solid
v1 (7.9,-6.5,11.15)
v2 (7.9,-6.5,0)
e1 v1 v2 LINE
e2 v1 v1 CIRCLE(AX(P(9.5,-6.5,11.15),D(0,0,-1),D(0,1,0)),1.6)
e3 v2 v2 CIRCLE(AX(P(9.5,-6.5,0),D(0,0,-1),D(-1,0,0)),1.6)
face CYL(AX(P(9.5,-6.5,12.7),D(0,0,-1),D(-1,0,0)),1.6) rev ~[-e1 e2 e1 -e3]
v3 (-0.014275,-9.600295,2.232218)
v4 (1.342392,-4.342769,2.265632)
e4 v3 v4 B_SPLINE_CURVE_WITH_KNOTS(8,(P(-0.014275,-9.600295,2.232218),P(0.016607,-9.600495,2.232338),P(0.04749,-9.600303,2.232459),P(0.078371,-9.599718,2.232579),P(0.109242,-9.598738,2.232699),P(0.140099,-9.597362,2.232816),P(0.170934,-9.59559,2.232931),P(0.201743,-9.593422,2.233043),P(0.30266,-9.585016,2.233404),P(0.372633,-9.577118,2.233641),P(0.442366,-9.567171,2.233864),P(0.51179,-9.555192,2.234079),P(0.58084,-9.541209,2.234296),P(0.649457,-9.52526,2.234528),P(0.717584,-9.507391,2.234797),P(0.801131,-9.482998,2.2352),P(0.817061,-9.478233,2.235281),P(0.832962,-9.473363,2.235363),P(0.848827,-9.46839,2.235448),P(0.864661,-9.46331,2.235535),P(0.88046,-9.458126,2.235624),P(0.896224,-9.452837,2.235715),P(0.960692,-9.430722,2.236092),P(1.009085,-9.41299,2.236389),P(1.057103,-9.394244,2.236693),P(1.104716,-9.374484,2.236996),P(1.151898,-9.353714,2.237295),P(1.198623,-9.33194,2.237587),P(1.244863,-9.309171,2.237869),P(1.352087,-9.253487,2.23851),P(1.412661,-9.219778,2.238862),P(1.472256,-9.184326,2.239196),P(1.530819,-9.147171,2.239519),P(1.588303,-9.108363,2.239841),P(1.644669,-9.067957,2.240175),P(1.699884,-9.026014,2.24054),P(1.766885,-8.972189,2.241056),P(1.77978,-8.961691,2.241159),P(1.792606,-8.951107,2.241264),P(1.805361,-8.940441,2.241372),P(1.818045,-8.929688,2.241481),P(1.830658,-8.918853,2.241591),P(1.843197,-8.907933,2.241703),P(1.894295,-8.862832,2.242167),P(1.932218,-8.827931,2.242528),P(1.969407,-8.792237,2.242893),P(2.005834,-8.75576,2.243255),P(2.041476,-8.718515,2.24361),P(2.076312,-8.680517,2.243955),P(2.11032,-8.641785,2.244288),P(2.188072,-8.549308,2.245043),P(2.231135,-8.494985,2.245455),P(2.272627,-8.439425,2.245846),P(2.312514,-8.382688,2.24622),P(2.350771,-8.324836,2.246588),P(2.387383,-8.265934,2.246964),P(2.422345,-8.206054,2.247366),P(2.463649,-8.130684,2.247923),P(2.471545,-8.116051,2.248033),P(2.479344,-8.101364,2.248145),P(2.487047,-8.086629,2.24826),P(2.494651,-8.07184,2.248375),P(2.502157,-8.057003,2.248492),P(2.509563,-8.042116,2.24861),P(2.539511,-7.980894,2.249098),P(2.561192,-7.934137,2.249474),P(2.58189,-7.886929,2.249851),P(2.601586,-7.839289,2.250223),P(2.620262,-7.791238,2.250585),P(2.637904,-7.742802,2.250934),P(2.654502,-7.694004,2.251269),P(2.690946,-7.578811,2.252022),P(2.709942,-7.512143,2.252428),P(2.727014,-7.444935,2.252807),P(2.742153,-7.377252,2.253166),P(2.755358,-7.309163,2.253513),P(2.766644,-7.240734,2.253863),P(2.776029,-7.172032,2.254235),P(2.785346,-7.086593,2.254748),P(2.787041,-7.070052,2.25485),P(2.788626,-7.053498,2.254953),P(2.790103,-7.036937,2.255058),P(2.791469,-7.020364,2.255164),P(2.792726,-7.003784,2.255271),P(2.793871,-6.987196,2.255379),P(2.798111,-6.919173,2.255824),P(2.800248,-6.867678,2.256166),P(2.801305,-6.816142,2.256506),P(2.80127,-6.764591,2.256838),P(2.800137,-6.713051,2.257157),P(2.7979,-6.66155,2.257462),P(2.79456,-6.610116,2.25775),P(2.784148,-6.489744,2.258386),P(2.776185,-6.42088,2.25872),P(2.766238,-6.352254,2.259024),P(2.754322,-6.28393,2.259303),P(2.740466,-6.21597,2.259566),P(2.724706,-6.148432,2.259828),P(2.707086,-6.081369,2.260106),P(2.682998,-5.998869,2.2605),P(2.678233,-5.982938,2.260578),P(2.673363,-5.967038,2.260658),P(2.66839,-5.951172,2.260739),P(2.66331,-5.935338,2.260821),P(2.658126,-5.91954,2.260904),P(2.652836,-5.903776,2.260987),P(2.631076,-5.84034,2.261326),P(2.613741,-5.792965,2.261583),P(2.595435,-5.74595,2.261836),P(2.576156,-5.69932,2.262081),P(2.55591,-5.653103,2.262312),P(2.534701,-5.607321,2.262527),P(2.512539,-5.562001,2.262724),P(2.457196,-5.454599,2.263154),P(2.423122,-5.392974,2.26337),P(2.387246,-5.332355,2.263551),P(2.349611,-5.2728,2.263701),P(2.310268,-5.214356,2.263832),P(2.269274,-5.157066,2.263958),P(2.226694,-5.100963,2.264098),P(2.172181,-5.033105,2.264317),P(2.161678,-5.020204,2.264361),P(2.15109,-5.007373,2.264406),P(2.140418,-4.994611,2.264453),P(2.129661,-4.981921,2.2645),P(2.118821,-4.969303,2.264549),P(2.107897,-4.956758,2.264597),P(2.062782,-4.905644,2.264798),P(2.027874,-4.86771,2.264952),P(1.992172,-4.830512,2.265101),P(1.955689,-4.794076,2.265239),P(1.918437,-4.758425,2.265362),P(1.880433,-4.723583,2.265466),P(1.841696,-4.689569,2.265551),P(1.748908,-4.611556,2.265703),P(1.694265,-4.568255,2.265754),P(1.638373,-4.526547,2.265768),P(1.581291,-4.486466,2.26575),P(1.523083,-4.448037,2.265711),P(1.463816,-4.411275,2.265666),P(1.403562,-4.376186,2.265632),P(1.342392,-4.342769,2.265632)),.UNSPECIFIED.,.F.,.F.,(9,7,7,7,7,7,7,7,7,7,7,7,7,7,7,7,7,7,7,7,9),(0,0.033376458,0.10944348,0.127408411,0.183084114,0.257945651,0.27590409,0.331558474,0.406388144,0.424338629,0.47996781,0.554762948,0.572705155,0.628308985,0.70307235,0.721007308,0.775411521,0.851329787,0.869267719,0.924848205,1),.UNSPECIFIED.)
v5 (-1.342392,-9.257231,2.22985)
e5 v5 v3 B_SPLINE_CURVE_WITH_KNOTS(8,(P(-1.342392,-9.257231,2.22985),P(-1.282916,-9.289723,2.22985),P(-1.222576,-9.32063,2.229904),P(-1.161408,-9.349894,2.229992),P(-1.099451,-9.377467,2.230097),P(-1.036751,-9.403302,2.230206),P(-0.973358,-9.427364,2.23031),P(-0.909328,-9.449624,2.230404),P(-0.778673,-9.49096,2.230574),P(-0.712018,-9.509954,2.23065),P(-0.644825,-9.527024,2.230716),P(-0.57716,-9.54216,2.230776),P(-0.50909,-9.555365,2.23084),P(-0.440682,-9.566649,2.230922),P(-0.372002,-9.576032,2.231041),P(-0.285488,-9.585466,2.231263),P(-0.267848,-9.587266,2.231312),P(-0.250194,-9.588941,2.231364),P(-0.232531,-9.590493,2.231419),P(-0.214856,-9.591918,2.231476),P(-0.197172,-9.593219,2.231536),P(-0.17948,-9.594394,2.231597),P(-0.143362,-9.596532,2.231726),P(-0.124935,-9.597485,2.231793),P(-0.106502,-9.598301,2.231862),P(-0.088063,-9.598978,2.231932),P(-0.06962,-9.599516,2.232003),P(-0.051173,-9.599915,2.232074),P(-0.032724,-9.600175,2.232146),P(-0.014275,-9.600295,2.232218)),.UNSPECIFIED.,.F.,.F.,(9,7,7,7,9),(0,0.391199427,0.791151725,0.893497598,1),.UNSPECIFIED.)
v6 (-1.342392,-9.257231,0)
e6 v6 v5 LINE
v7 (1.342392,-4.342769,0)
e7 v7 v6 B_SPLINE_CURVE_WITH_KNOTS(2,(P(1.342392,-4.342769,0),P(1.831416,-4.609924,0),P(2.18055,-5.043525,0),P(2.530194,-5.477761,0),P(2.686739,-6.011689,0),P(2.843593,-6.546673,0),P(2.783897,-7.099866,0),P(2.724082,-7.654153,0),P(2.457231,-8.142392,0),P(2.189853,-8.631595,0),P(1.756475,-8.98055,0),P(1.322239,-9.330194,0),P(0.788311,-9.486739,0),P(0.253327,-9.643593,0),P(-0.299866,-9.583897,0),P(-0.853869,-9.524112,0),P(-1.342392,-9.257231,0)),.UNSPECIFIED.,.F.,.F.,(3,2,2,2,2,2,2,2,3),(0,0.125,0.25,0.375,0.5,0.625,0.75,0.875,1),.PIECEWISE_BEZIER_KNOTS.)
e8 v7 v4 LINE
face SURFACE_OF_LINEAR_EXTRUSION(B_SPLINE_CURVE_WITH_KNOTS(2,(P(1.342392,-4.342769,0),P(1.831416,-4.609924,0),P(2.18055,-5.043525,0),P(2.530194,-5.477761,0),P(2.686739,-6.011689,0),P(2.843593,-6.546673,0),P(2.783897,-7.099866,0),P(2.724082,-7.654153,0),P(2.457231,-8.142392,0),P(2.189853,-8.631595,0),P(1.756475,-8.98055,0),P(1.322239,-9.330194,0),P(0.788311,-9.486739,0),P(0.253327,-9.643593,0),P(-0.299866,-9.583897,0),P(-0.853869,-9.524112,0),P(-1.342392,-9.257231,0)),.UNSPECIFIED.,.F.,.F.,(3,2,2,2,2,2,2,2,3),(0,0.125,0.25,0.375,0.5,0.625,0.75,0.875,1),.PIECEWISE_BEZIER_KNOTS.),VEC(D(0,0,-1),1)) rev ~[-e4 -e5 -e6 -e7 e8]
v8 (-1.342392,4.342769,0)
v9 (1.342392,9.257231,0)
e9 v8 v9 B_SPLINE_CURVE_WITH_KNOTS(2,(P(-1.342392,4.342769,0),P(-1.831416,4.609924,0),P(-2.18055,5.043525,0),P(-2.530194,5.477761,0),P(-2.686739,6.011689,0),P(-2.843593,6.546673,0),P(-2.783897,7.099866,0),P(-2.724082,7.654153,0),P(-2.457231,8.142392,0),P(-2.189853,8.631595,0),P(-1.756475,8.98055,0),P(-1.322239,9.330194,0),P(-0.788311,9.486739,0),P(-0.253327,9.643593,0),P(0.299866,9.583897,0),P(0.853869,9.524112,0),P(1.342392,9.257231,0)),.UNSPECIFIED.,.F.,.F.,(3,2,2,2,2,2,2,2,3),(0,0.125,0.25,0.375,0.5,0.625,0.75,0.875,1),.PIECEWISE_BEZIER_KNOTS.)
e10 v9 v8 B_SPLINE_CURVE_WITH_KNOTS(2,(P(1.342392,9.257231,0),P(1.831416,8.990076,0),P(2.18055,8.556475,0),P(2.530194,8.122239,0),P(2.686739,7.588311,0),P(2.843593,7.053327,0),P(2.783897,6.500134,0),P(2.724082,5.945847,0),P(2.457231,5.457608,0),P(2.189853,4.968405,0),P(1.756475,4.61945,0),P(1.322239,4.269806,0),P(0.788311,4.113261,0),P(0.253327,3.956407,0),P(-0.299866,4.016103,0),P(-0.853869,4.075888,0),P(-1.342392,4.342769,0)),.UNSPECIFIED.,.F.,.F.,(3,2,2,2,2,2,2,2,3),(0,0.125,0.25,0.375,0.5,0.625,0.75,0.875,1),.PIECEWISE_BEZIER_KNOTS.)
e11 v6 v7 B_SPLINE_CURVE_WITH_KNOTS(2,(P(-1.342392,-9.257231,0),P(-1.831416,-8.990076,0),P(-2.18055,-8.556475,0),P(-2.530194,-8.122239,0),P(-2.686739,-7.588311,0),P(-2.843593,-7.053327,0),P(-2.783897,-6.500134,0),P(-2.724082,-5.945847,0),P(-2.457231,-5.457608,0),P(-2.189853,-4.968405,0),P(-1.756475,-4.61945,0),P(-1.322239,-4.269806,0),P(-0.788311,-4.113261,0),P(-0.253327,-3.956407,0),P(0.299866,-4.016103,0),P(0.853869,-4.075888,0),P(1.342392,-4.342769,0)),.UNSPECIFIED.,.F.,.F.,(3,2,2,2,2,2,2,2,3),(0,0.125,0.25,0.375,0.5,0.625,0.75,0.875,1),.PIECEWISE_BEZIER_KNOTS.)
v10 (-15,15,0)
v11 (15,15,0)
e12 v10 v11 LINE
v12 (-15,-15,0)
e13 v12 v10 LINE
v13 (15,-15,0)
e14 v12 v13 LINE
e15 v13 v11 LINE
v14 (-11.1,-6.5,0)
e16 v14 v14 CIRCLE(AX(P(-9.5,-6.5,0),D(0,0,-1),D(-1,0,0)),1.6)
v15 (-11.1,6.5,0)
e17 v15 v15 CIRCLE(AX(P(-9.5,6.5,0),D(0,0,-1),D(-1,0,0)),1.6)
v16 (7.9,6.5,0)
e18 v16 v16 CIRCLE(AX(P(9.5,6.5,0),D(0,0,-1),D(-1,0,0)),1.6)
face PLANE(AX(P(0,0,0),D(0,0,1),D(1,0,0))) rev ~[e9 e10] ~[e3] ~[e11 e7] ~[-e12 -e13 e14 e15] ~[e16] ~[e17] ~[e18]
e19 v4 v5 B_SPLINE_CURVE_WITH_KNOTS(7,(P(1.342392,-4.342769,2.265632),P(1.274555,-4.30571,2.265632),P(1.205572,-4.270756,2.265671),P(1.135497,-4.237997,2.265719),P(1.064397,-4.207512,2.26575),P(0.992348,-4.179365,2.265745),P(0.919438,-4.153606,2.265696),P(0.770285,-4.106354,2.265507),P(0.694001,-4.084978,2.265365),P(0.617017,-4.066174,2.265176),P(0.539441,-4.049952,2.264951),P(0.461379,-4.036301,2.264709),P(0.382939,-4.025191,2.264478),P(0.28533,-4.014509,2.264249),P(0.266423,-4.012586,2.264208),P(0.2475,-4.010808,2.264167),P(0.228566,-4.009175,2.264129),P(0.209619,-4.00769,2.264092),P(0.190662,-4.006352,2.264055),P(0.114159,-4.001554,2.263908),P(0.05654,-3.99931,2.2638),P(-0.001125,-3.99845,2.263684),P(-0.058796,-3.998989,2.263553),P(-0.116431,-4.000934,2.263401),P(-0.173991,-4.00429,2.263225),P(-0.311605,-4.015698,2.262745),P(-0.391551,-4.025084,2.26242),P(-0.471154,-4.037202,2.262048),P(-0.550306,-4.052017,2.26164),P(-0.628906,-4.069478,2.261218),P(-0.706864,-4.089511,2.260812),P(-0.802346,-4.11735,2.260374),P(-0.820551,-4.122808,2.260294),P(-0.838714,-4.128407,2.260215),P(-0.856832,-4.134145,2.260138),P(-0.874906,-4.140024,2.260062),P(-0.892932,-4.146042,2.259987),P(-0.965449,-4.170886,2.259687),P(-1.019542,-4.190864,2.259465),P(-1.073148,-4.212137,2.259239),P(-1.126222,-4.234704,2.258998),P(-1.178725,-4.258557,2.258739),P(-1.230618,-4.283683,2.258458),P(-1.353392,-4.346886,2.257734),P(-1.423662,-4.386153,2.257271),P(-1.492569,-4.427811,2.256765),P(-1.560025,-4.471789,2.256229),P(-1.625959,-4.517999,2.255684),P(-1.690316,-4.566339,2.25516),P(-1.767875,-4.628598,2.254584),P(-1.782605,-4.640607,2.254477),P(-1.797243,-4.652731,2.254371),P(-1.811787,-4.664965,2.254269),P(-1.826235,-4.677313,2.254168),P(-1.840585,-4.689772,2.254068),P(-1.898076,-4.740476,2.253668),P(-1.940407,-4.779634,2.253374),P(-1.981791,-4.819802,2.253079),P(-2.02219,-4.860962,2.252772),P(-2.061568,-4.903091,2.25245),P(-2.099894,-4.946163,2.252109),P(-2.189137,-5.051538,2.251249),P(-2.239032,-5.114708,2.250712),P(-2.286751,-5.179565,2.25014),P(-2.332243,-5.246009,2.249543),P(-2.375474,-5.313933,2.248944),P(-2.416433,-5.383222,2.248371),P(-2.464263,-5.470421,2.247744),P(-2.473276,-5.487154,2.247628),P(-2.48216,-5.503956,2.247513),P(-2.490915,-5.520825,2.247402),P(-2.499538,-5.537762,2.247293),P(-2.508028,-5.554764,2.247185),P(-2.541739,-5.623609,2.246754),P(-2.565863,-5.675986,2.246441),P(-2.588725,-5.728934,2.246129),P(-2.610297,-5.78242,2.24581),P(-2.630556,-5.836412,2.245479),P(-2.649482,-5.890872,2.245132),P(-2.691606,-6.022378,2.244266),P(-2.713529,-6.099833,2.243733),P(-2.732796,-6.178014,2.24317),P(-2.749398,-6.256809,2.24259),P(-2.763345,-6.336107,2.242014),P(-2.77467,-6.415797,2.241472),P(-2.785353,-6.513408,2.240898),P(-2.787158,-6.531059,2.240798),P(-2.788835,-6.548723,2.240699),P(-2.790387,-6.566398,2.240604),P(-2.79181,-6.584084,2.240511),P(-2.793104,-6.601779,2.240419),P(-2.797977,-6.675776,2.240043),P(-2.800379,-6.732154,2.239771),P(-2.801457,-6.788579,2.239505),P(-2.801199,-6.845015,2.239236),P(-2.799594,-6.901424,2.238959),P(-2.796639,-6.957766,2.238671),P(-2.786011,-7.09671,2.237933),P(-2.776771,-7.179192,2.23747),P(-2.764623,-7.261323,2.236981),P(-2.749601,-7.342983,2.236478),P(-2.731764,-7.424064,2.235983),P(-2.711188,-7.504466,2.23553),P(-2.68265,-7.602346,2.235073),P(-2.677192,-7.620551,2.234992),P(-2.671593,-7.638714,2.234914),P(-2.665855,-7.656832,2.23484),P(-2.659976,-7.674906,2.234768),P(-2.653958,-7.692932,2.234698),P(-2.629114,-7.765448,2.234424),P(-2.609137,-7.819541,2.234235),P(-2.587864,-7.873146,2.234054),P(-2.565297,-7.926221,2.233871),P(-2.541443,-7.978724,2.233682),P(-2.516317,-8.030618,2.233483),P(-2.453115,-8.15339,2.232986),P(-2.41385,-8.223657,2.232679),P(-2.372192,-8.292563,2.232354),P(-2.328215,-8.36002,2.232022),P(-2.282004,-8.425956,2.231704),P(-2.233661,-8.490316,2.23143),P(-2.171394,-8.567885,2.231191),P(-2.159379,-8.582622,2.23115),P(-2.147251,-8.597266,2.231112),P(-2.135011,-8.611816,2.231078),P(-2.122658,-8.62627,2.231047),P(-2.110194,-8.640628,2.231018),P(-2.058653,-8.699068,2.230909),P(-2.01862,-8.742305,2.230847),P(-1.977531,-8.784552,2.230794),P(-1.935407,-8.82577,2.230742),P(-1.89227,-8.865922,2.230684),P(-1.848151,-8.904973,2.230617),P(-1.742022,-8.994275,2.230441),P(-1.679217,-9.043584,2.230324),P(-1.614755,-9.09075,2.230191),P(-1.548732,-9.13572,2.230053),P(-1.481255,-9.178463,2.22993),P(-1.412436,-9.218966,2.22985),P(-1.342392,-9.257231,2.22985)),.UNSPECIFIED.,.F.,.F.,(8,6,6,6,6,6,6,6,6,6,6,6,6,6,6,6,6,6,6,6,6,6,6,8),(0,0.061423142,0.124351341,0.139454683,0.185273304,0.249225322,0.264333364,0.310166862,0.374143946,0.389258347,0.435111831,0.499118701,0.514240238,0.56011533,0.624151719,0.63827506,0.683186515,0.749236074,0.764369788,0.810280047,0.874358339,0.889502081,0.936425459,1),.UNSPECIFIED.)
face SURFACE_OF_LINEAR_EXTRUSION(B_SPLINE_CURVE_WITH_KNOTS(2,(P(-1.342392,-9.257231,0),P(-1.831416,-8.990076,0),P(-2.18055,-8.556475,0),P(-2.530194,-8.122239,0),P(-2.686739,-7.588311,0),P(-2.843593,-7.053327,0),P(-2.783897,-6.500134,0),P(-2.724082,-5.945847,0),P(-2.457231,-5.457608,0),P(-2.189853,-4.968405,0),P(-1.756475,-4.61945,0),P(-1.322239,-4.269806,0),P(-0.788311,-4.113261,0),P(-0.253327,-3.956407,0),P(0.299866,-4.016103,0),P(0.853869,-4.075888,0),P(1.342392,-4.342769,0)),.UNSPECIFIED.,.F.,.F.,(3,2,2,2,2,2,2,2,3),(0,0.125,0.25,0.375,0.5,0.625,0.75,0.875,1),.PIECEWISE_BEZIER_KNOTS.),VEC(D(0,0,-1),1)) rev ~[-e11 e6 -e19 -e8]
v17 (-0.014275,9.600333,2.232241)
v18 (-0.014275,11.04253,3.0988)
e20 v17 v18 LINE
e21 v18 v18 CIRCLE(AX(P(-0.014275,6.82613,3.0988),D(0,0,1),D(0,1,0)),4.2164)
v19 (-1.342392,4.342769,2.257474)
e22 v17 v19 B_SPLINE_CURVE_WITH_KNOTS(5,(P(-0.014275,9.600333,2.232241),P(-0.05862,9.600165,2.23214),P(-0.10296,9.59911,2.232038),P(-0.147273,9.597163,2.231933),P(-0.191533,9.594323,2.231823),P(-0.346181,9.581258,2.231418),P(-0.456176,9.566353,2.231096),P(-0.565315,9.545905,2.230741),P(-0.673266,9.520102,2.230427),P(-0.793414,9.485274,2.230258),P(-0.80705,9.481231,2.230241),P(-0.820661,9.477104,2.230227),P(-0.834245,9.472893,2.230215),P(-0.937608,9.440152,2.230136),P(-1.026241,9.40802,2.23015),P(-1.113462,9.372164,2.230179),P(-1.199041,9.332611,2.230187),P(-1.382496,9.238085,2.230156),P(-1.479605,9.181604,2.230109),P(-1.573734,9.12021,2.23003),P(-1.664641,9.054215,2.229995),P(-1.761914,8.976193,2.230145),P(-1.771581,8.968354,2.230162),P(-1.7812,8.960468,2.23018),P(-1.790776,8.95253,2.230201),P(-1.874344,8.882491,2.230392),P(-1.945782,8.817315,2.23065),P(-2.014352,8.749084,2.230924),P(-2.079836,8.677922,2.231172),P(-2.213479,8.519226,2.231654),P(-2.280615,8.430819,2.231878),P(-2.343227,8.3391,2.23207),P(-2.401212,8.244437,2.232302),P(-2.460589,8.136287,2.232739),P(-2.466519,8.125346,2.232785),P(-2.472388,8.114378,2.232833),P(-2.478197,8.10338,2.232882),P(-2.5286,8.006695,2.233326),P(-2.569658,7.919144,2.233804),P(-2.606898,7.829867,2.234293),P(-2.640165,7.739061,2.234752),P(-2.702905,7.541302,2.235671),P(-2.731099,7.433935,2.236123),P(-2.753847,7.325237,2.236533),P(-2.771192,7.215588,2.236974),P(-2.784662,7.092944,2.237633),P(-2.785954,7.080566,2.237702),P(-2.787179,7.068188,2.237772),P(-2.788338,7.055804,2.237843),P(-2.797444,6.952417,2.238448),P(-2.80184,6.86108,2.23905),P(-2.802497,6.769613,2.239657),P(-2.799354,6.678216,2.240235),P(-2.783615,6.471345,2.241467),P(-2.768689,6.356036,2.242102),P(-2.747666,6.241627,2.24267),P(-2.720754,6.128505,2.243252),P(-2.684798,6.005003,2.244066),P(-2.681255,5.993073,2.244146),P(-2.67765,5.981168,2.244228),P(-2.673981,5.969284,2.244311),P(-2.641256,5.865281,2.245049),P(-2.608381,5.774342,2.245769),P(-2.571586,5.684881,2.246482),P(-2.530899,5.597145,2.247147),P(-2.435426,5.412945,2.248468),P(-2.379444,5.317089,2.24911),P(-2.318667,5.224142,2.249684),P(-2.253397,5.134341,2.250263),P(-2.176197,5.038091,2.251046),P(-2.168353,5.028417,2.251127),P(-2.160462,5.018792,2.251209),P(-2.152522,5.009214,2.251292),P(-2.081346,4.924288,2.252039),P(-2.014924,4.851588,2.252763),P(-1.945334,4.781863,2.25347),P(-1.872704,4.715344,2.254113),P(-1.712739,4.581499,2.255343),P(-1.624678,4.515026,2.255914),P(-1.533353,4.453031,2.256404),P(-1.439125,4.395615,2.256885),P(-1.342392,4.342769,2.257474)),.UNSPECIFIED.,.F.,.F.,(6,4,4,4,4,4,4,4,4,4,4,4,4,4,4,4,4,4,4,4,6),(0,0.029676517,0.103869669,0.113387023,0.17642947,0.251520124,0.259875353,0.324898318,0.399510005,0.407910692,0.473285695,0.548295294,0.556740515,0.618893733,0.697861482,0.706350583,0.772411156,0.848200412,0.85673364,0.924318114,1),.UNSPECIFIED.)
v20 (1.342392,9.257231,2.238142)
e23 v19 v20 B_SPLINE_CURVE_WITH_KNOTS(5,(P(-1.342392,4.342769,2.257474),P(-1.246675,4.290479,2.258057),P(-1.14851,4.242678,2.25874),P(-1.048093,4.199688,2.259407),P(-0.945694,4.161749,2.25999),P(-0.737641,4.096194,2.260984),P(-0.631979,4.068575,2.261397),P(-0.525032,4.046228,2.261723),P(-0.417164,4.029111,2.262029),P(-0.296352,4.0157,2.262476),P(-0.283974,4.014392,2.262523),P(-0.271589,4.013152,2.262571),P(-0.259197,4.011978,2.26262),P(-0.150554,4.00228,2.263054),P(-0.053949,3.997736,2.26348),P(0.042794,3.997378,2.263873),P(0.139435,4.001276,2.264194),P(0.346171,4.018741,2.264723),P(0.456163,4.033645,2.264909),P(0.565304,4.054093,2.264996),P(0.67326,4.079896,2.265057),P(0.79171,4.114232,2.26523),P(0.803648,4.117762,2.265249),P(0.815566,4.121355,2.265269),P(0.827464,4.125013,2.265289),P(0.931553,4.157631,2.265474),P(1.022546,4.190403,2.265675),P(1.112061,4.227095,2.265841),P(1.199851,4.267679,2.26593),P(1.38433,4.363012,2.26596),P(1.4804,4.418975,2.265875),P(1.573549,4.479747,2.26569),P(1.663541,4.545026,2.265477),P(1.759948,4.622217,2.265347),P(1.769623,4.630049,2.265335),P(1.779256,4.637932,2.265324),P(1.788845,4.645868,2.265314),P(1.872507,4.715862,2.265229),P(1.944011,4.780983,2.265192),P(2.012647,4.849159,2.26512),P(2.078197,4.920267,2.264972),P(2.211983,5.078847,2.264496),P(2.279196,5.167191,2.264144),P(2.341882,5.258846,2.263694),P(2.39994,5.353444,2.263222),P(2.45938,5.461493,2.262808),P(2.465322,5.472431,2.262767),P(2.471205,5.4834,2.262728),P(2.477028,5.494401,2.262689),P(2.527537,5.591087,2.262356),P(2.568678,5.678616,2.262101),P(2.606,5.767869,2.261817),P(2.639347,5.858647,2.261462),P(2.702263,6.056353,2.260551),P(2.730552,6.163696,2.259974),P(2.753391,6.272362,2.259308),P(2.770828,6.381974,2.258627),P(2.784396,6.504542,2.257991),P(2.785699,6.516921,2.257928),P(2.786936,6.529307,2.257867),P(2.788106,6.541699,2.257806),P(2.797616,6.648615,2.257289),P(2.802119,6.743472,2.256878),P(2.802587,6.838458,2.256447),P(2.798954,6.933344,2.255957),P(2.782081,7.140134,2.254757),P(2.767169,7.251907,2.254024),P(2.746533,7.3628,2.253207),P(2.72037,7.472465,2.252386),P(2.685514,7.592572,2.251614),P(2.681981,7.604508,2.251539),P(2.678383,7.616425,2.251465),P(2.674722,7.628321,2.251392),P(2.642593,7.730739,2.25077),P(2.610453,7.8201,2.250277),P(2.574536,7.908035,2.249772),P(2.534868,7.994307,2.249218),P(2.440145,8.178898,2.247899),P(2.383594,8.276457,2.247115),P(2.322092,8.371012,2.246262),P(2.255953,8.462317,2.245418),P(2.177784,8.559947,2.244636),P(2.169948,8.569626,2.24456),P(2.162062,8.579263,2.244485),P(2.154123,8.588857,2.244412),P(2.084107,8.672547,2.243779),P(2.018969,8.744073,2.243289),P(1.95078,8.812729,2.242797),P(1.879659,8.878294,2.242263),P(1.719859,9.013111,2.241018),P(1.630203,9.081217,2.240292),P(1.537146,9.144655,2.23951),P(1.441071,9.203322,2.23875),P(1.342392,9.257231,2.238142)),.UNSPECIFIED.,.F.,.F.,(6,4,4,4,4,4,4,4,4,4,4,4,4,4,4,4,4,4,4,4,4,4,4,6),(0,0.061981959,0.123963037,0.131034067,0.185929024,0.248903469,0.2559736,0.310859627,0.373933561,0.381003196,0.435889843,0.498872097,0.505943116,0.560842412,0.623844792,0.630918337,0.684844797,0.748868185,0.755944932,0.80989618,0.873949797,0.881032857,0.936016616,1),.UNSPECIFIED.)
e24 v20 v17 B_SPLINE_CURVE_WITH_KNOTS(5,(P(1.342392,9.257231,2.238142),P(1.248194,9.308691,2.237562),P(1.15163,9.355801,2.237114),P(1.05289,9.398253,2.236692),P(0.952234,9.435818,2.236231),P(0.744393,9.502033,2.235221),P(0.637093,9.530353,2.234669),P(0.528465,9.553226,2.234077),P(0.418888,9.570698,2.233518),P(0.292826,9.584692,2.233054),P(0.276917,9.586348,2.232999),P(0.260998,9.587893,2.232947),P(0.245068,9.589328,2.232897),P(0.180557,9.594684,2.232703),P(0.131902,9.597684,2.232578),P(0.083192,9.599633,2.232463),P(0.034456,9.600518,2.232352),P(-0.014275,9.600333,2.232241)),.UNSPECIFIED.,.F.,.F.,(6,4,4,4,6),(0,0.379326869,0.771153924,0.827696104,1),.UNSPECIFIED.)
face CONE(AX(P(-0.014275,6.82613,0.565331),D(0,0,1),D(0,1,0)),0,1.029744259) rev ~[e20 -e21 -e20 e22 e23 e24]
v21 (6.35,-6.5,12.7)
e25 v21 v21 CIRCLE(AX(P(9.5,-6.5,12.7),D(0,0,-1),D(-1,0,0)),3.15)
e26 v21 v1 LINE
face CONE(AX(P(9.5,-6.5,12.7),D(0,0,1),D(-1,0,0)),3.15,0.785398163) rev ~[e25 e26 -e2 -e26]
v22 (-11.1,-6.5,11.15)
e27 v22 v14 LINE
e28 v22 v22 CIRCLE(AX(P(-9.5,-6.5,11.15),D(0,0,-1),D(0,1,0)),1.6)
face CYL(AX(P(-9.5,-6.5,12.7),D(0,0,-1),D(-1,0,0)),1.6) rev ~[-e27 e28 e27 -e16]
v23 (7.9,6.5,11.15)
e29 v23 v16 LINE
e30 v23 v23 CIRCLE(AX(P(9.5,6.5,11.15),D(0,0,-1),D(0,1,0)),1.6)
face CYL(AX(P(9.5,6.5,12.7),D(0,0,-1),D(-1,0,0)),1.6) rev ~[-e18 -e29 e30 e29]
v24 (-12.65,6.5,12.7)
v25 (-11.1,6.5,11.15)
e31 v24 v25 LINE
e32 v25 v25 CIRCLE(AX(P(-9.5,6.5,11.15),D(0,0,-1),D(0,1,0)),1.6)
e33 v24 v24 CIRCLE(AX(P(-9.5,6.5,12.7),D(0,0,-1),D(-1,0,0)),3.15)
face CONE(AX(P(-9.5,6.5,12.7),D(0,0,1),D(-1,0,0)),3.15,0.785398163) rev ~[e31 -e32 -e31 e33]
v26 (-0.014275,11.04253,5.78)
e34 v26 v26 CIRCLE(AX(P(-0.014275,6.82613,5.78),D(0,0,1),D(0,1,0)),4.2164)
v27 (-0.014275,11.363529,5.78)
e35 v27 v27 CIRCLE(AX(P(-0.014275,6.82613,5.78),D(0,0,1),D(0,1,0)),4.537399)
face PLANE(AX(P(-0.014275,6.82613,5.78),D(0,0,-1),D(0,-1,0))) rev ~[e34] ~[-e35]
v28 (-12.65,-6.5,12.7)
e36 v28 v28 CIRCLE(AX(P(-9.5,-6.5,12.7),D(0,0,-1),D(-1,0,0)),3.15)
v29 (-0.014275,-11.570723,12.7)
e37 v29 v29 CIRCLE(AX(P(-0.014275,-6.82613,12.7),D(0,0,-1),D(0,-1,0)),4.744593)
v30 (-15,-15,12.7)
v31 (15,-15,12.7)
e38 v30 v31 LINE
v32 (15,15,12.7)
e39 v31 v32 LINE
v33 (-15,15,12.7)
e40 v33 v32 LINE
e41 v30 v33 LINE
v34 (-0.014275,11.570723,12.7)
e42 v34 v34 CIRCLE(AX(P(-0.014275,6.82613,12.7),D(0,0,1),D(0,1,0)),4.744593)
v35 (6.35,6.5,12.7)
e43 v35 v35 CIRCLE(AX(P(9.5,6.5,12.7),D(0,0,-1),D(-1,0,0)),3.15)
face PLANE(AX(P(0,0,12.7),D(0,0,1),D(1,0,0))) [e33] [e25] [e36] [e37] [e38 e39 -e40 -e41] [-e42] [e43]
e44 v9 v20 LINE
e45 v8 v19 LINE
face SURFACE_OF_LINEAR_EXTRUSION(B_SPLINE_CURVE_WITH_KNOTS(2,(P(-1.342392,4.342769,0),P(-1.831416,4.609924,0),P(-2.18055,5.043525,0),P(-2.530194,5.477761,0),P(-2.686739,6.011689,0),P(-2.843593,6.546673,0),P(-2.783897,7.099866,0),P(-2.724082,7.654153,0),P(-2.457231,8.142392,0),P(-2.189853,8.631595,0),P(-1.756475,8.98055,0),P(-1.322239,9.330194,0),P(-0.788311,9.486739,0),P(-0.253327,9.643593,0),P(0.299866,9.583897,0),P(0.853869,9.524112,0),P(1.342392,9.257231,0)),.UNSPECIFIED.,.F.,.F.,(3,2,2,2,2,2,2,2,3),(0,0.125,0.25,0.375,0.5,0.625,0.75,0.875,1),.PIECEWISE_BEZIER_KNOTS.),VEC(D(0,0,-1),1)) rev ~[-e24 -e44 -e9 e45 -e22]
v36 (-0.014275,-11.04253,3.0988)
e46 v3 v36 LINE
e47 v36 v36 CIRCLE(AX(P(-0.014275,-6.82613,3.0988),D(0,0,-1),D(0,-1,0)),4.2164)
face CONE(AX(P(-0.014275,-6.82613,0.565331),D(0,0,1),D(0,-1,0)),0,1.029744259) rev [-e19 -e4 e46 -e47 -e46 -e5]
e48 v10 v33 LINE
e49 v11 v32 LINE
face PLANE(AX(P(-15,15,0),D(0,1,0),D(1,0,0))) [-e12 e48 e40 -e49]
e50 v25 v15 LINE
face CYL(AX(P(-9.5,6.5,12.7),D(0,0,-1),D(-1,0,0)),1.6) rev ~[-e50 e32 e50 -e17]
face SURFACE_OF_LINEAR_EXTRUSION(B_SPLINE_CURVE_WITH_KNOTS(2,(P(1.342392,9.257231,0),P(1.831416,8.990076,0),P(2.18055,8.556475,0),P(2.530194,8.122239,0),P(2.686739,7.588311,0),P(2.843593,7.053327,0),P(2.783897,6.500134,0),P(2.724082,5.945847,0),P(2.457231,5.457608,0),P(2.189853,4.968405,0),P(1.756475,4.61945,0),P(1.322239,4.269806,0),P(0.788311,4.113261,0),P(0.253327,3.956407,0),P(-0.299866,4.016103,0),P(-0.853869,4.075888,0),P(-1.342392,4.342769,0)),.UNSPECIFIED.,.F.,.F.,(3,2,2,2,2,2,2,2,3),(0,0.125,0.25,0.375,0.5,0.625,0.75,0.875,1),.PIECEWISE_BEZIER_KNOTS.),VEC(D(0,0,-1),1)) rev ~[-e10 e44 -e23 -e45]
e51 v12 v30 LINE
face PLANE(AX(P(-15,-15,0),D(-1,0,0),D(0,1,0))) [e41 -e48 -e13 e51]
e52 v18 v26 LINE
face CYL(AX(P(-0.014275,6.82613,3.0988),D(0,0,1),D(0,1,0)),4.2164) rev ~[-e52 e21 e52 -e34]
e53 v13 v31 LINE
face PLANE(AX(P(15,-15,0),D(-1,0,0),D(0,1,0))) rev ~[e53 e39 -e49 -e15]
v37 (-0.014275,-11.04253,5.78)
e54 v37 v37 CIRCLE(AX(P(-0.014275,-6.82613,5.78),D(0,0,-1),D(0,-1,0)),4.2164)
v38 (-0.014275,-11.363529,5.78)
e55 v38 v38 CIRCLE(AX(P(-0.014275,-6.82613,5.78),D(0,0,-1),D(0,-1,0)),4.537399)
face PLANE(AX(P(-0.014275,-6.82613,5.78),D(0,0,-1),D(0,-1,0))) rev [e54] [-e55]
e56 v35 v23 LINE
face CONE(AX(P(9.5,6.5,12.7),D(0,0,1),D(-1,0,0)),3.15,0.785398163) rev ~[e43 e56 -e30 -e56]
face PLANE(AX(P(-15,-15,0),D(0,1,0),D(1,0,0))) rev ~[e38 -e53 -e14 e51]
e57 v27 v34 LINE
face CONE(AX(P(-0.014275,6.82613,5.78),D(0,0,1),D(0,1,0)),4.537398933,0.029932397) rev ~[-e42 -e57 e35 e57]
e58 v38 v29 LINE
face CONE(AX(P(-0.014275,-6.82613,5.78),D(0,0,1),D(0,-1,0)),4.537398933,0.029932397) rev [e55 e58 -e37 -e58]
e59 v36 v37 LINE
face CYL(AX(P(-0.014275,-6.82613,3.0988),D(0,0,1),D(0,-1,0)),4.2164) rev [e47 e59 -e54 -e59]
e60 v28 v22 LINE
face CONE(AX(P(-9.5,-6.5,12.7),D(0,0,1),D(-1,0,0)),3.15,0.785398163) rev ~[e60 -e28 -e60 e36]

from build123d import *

# Parameters (mm, degrees)
SKETCH1_W                                       = 30
SKETCH1_H                                       = 30
BOSS_EXTRUDE1_DEPTH                             = 12.7
CSK_FOR_M3_FLAT_HEAD_MACHINE_SCREW1_D           = 3.2
CSK_FOR_M3_FLAT_HEAD_MACHINE_SCREW1_CSINK_D     = 6.3
CSK_FOR_M3_FLAT_HEAD_MACHINE_SCREW1_CSINK_ANGLE = 90


with BuildPart() as part:
    # Sketch1 → Boss-Extrude1 (new body)
    with BuildSketch(Plane.XY):
        Rectangle(SKETCH1_W, SKETCH1_H)
        with BuildLine():
            ThreePointArc((-8.9105463, -5.42101224), (-10.57898776, -5.9105463), (-10.0894537, -7.57898776))
            ThreePointArc((-10.0894537, -7.57898776), (-8.42101224, -7.0894537), (-8.9105463, -5.42101224))
        make_face(mode=Mode.SUBTRACT)
        with BuildLine():
            ThreePointArc((-8.9105463, 7.57898776), (-10.57898776, 7.0894537), (-10.0894537, 5.42101224))
            ThreePointArc((-10.0894537, 5.42101224), (-8.42101224, 5.9105463), (-8.9105463, 7.57898776))
        make_face(mode=Mode.SUBTRACT)
        with BuildLine():
            ThreePointArc((10.0894537, 7.57898776), (8.42101224, 7.0894537), (8.9105463, 5.42101224))
            ThreePointArc((8.9105463, 5.42101224), (10.57898776, 5.9105463), (10.0894537, 7.57898776))
        make_face(mode=Mode.SUBTRACT)
        with BuildLine():
            ThreePointArc((10.0894537, -5.42101224), (8.42101224, -5.9105463), (8.9105463, -7.57898776))
            ThreePointArc((8.9105463, -7.57898776), (10.57898776, -7.0894537), (10.0894537, -5.42101224))
        make_face(mode=Mode.SUBTRACT)
        with BuildLine():
            add(Edge.make_bspline(
                [(-1.342391508, -9.257231173), (-1.831415943, -8.990075907), (-2.180549698, -8.556474598), (-2.530193945, -8.122239293), (-2.686738964, -7.588310687), (-2.84359347, -7.053326516), (-2.783896578, -6.500133621), (-2.724081666, -5.945847074), (-2.457231173, -5.457608492), (-2.189853123, -4.968404672), (-1.756474598, -4.619450302), (-1.322239293, -4.269806055), (-0.788310687, -4.113261036), (-0.253326516, -3.95640653), (0.299866379, -4.016103422), (0.853868841, -4.075887677), (1.342391508, -4.342768827)],
                knots=[0, 0, 0, 0.125, 0.125, 0.25, 0.25, 0.375, 0.375, 0.5, 0.5, 0.625, 0.625, 0.75, 0.75, 0.875, 0.875, 1, 1, 1], degree=2))
            add(Edge.make_bspline(
                [(1.342391508, -4.342768827), (1.831415943, -4.609924093), (2.180549698, -5.043525402), (2.530193945, -5.477760707), (2.686738964, -6.011689313), (2.84359347, -6.546673484), (2.783896578, -7.099866379), (2.724081666, -7.654152926), (2.457231173, -8.142391508), (2.189853123, -8.631595328), (1.756474598, -8.980549698), (1.322239293, -9.330193945), (0.788310687, -9.486738964), (0.253326516, -9.64359347), (-0.299866379, -9.583896578), (-0.853868841, -9.524112323), (-1.342391508, -9.257231173)],
                knots=[0, 0, 0, 0.125, 0.125, 0.25, 0.25, 0.375, 0.375, 0.5, 0.5, 0.625, 0.625, 0.75, 0.75, 0.875, 0.875, 1, 1, 1], degree=2))
        make_face(mode=Mode.SUBTRACT)
        with BuildLine():
            add(Edge.make_bspline(
                [(1.342391508, 9.257231173), (1.831415943, 8.990075907), (2.180549698, 8.556474598), (2.530193945, 8.122239293), (2.686738964, 7.588310687), (2.84359347, 7.053326516), (2.783896578, 6.500133621), (2.724081666, 5.945847074), (2.457231173, 5.457608492), (2.189853123, 4.968404672), (1.756474598, 4.619450302), (1.322239293, 4.269806055), (0.788310687, 4.113261036), (0.253326516, 3.95640653), (-0.299866379, 4.016103422), (-0.853868841, 4.075887677), (-1.342391508, 4.342768827)],
                knots=[0, 0, 0, 0.125, 0.125, 0.25, 0.25, 0.375, 0.375, 0.5, 0.5, 0.625, 0.625, 0.75, 0.75, 0.875, 0.875, 1, 1, 1], degree=2))
            add(Edge.make_bspline(
                [(-1.342391508, 4.342768827), (-1.831415943, 4.609924093), (-2.180549698, 5.043525402), (-2.530193945, 5.477760707), (-2.686738964, 6.011689313), (-2.84359347, 6.546673484), (-2.783896578, 7.099866379), (-2.724081666, 7.654152926), (-2.457231173, 8.142391508), (-2.189853123, 8.631595328), (-1.756474598, 8.980549698), (-1.322239293, 9.330193945), (-0.788310687, 9.486738964), (-0.253326516, 9.64359347), (0.299866379, 9.583896578), (0.853868841, 9.524112323), (1.342391508, 9.257231173)],
                knots=[0, 0, 0, 0.125, 0.125, 0.25, 0.25, 0.375, 0.375, 0.5, 0.5, 0.625, 0.625, 0.75, 0.75, 0.875, 0.875, 1, 1, 1], degree=2))
        make_face(mode=Mode.SUBTRACT)
    extrude(amount=BOSS_EXTRUDE1_DEPTH)

    # CSK for M3 Flat Head Machine Screw1 (through all)
    with Locations(Plane.XY.offset(12.7)):
        with Locations((-9.5, -6.5), (-9.5, 6.5), (9.5, 6.5), (9.5, -6.5)):
            CounterSinkHole(CSK_FOR_M3_FLAT_HEAD_MACHINE_SCREW1_D / 2, CSK_FOR_M3_FLAT_HEAD_MACHINE_SCREW1_CSINK_D / 2, counter_sink_angle=CSK_FOR_M3_FLAT_HEAD_MACHINE_SCREW1_CSINK_ANGLE)

    # Sketch10 → 1/8 NPT Tapped Hole1 (revolve, cut)
    with BuildSketch(Plane(origin=(-0.014274842, -6.826129923, 12.7), x_dir=(0, -1, 0), z_dir=(1, 0, 0))):
        Polygon((0, 0), (0, 12.134668714), (4.2164, 9.6012), (4.2164, 6.92), (4.537398933, 6.92), (4.744593, 0), align=None)
    f_1_8_npt_tapped_hole1 = revolve(axis=Axis((-0.014274842, -6.826129923, 19.05), (0, 0, -1)), mode=Mode.SUBTRACT)

    # Mirror1: 1/8 NPT Tapped Hole1 across plane
    add(f_1_8_npt_tapped_hole1.mirror(Plane.ZX), mode=Mode.SUBTRACT)


solid = part.part
